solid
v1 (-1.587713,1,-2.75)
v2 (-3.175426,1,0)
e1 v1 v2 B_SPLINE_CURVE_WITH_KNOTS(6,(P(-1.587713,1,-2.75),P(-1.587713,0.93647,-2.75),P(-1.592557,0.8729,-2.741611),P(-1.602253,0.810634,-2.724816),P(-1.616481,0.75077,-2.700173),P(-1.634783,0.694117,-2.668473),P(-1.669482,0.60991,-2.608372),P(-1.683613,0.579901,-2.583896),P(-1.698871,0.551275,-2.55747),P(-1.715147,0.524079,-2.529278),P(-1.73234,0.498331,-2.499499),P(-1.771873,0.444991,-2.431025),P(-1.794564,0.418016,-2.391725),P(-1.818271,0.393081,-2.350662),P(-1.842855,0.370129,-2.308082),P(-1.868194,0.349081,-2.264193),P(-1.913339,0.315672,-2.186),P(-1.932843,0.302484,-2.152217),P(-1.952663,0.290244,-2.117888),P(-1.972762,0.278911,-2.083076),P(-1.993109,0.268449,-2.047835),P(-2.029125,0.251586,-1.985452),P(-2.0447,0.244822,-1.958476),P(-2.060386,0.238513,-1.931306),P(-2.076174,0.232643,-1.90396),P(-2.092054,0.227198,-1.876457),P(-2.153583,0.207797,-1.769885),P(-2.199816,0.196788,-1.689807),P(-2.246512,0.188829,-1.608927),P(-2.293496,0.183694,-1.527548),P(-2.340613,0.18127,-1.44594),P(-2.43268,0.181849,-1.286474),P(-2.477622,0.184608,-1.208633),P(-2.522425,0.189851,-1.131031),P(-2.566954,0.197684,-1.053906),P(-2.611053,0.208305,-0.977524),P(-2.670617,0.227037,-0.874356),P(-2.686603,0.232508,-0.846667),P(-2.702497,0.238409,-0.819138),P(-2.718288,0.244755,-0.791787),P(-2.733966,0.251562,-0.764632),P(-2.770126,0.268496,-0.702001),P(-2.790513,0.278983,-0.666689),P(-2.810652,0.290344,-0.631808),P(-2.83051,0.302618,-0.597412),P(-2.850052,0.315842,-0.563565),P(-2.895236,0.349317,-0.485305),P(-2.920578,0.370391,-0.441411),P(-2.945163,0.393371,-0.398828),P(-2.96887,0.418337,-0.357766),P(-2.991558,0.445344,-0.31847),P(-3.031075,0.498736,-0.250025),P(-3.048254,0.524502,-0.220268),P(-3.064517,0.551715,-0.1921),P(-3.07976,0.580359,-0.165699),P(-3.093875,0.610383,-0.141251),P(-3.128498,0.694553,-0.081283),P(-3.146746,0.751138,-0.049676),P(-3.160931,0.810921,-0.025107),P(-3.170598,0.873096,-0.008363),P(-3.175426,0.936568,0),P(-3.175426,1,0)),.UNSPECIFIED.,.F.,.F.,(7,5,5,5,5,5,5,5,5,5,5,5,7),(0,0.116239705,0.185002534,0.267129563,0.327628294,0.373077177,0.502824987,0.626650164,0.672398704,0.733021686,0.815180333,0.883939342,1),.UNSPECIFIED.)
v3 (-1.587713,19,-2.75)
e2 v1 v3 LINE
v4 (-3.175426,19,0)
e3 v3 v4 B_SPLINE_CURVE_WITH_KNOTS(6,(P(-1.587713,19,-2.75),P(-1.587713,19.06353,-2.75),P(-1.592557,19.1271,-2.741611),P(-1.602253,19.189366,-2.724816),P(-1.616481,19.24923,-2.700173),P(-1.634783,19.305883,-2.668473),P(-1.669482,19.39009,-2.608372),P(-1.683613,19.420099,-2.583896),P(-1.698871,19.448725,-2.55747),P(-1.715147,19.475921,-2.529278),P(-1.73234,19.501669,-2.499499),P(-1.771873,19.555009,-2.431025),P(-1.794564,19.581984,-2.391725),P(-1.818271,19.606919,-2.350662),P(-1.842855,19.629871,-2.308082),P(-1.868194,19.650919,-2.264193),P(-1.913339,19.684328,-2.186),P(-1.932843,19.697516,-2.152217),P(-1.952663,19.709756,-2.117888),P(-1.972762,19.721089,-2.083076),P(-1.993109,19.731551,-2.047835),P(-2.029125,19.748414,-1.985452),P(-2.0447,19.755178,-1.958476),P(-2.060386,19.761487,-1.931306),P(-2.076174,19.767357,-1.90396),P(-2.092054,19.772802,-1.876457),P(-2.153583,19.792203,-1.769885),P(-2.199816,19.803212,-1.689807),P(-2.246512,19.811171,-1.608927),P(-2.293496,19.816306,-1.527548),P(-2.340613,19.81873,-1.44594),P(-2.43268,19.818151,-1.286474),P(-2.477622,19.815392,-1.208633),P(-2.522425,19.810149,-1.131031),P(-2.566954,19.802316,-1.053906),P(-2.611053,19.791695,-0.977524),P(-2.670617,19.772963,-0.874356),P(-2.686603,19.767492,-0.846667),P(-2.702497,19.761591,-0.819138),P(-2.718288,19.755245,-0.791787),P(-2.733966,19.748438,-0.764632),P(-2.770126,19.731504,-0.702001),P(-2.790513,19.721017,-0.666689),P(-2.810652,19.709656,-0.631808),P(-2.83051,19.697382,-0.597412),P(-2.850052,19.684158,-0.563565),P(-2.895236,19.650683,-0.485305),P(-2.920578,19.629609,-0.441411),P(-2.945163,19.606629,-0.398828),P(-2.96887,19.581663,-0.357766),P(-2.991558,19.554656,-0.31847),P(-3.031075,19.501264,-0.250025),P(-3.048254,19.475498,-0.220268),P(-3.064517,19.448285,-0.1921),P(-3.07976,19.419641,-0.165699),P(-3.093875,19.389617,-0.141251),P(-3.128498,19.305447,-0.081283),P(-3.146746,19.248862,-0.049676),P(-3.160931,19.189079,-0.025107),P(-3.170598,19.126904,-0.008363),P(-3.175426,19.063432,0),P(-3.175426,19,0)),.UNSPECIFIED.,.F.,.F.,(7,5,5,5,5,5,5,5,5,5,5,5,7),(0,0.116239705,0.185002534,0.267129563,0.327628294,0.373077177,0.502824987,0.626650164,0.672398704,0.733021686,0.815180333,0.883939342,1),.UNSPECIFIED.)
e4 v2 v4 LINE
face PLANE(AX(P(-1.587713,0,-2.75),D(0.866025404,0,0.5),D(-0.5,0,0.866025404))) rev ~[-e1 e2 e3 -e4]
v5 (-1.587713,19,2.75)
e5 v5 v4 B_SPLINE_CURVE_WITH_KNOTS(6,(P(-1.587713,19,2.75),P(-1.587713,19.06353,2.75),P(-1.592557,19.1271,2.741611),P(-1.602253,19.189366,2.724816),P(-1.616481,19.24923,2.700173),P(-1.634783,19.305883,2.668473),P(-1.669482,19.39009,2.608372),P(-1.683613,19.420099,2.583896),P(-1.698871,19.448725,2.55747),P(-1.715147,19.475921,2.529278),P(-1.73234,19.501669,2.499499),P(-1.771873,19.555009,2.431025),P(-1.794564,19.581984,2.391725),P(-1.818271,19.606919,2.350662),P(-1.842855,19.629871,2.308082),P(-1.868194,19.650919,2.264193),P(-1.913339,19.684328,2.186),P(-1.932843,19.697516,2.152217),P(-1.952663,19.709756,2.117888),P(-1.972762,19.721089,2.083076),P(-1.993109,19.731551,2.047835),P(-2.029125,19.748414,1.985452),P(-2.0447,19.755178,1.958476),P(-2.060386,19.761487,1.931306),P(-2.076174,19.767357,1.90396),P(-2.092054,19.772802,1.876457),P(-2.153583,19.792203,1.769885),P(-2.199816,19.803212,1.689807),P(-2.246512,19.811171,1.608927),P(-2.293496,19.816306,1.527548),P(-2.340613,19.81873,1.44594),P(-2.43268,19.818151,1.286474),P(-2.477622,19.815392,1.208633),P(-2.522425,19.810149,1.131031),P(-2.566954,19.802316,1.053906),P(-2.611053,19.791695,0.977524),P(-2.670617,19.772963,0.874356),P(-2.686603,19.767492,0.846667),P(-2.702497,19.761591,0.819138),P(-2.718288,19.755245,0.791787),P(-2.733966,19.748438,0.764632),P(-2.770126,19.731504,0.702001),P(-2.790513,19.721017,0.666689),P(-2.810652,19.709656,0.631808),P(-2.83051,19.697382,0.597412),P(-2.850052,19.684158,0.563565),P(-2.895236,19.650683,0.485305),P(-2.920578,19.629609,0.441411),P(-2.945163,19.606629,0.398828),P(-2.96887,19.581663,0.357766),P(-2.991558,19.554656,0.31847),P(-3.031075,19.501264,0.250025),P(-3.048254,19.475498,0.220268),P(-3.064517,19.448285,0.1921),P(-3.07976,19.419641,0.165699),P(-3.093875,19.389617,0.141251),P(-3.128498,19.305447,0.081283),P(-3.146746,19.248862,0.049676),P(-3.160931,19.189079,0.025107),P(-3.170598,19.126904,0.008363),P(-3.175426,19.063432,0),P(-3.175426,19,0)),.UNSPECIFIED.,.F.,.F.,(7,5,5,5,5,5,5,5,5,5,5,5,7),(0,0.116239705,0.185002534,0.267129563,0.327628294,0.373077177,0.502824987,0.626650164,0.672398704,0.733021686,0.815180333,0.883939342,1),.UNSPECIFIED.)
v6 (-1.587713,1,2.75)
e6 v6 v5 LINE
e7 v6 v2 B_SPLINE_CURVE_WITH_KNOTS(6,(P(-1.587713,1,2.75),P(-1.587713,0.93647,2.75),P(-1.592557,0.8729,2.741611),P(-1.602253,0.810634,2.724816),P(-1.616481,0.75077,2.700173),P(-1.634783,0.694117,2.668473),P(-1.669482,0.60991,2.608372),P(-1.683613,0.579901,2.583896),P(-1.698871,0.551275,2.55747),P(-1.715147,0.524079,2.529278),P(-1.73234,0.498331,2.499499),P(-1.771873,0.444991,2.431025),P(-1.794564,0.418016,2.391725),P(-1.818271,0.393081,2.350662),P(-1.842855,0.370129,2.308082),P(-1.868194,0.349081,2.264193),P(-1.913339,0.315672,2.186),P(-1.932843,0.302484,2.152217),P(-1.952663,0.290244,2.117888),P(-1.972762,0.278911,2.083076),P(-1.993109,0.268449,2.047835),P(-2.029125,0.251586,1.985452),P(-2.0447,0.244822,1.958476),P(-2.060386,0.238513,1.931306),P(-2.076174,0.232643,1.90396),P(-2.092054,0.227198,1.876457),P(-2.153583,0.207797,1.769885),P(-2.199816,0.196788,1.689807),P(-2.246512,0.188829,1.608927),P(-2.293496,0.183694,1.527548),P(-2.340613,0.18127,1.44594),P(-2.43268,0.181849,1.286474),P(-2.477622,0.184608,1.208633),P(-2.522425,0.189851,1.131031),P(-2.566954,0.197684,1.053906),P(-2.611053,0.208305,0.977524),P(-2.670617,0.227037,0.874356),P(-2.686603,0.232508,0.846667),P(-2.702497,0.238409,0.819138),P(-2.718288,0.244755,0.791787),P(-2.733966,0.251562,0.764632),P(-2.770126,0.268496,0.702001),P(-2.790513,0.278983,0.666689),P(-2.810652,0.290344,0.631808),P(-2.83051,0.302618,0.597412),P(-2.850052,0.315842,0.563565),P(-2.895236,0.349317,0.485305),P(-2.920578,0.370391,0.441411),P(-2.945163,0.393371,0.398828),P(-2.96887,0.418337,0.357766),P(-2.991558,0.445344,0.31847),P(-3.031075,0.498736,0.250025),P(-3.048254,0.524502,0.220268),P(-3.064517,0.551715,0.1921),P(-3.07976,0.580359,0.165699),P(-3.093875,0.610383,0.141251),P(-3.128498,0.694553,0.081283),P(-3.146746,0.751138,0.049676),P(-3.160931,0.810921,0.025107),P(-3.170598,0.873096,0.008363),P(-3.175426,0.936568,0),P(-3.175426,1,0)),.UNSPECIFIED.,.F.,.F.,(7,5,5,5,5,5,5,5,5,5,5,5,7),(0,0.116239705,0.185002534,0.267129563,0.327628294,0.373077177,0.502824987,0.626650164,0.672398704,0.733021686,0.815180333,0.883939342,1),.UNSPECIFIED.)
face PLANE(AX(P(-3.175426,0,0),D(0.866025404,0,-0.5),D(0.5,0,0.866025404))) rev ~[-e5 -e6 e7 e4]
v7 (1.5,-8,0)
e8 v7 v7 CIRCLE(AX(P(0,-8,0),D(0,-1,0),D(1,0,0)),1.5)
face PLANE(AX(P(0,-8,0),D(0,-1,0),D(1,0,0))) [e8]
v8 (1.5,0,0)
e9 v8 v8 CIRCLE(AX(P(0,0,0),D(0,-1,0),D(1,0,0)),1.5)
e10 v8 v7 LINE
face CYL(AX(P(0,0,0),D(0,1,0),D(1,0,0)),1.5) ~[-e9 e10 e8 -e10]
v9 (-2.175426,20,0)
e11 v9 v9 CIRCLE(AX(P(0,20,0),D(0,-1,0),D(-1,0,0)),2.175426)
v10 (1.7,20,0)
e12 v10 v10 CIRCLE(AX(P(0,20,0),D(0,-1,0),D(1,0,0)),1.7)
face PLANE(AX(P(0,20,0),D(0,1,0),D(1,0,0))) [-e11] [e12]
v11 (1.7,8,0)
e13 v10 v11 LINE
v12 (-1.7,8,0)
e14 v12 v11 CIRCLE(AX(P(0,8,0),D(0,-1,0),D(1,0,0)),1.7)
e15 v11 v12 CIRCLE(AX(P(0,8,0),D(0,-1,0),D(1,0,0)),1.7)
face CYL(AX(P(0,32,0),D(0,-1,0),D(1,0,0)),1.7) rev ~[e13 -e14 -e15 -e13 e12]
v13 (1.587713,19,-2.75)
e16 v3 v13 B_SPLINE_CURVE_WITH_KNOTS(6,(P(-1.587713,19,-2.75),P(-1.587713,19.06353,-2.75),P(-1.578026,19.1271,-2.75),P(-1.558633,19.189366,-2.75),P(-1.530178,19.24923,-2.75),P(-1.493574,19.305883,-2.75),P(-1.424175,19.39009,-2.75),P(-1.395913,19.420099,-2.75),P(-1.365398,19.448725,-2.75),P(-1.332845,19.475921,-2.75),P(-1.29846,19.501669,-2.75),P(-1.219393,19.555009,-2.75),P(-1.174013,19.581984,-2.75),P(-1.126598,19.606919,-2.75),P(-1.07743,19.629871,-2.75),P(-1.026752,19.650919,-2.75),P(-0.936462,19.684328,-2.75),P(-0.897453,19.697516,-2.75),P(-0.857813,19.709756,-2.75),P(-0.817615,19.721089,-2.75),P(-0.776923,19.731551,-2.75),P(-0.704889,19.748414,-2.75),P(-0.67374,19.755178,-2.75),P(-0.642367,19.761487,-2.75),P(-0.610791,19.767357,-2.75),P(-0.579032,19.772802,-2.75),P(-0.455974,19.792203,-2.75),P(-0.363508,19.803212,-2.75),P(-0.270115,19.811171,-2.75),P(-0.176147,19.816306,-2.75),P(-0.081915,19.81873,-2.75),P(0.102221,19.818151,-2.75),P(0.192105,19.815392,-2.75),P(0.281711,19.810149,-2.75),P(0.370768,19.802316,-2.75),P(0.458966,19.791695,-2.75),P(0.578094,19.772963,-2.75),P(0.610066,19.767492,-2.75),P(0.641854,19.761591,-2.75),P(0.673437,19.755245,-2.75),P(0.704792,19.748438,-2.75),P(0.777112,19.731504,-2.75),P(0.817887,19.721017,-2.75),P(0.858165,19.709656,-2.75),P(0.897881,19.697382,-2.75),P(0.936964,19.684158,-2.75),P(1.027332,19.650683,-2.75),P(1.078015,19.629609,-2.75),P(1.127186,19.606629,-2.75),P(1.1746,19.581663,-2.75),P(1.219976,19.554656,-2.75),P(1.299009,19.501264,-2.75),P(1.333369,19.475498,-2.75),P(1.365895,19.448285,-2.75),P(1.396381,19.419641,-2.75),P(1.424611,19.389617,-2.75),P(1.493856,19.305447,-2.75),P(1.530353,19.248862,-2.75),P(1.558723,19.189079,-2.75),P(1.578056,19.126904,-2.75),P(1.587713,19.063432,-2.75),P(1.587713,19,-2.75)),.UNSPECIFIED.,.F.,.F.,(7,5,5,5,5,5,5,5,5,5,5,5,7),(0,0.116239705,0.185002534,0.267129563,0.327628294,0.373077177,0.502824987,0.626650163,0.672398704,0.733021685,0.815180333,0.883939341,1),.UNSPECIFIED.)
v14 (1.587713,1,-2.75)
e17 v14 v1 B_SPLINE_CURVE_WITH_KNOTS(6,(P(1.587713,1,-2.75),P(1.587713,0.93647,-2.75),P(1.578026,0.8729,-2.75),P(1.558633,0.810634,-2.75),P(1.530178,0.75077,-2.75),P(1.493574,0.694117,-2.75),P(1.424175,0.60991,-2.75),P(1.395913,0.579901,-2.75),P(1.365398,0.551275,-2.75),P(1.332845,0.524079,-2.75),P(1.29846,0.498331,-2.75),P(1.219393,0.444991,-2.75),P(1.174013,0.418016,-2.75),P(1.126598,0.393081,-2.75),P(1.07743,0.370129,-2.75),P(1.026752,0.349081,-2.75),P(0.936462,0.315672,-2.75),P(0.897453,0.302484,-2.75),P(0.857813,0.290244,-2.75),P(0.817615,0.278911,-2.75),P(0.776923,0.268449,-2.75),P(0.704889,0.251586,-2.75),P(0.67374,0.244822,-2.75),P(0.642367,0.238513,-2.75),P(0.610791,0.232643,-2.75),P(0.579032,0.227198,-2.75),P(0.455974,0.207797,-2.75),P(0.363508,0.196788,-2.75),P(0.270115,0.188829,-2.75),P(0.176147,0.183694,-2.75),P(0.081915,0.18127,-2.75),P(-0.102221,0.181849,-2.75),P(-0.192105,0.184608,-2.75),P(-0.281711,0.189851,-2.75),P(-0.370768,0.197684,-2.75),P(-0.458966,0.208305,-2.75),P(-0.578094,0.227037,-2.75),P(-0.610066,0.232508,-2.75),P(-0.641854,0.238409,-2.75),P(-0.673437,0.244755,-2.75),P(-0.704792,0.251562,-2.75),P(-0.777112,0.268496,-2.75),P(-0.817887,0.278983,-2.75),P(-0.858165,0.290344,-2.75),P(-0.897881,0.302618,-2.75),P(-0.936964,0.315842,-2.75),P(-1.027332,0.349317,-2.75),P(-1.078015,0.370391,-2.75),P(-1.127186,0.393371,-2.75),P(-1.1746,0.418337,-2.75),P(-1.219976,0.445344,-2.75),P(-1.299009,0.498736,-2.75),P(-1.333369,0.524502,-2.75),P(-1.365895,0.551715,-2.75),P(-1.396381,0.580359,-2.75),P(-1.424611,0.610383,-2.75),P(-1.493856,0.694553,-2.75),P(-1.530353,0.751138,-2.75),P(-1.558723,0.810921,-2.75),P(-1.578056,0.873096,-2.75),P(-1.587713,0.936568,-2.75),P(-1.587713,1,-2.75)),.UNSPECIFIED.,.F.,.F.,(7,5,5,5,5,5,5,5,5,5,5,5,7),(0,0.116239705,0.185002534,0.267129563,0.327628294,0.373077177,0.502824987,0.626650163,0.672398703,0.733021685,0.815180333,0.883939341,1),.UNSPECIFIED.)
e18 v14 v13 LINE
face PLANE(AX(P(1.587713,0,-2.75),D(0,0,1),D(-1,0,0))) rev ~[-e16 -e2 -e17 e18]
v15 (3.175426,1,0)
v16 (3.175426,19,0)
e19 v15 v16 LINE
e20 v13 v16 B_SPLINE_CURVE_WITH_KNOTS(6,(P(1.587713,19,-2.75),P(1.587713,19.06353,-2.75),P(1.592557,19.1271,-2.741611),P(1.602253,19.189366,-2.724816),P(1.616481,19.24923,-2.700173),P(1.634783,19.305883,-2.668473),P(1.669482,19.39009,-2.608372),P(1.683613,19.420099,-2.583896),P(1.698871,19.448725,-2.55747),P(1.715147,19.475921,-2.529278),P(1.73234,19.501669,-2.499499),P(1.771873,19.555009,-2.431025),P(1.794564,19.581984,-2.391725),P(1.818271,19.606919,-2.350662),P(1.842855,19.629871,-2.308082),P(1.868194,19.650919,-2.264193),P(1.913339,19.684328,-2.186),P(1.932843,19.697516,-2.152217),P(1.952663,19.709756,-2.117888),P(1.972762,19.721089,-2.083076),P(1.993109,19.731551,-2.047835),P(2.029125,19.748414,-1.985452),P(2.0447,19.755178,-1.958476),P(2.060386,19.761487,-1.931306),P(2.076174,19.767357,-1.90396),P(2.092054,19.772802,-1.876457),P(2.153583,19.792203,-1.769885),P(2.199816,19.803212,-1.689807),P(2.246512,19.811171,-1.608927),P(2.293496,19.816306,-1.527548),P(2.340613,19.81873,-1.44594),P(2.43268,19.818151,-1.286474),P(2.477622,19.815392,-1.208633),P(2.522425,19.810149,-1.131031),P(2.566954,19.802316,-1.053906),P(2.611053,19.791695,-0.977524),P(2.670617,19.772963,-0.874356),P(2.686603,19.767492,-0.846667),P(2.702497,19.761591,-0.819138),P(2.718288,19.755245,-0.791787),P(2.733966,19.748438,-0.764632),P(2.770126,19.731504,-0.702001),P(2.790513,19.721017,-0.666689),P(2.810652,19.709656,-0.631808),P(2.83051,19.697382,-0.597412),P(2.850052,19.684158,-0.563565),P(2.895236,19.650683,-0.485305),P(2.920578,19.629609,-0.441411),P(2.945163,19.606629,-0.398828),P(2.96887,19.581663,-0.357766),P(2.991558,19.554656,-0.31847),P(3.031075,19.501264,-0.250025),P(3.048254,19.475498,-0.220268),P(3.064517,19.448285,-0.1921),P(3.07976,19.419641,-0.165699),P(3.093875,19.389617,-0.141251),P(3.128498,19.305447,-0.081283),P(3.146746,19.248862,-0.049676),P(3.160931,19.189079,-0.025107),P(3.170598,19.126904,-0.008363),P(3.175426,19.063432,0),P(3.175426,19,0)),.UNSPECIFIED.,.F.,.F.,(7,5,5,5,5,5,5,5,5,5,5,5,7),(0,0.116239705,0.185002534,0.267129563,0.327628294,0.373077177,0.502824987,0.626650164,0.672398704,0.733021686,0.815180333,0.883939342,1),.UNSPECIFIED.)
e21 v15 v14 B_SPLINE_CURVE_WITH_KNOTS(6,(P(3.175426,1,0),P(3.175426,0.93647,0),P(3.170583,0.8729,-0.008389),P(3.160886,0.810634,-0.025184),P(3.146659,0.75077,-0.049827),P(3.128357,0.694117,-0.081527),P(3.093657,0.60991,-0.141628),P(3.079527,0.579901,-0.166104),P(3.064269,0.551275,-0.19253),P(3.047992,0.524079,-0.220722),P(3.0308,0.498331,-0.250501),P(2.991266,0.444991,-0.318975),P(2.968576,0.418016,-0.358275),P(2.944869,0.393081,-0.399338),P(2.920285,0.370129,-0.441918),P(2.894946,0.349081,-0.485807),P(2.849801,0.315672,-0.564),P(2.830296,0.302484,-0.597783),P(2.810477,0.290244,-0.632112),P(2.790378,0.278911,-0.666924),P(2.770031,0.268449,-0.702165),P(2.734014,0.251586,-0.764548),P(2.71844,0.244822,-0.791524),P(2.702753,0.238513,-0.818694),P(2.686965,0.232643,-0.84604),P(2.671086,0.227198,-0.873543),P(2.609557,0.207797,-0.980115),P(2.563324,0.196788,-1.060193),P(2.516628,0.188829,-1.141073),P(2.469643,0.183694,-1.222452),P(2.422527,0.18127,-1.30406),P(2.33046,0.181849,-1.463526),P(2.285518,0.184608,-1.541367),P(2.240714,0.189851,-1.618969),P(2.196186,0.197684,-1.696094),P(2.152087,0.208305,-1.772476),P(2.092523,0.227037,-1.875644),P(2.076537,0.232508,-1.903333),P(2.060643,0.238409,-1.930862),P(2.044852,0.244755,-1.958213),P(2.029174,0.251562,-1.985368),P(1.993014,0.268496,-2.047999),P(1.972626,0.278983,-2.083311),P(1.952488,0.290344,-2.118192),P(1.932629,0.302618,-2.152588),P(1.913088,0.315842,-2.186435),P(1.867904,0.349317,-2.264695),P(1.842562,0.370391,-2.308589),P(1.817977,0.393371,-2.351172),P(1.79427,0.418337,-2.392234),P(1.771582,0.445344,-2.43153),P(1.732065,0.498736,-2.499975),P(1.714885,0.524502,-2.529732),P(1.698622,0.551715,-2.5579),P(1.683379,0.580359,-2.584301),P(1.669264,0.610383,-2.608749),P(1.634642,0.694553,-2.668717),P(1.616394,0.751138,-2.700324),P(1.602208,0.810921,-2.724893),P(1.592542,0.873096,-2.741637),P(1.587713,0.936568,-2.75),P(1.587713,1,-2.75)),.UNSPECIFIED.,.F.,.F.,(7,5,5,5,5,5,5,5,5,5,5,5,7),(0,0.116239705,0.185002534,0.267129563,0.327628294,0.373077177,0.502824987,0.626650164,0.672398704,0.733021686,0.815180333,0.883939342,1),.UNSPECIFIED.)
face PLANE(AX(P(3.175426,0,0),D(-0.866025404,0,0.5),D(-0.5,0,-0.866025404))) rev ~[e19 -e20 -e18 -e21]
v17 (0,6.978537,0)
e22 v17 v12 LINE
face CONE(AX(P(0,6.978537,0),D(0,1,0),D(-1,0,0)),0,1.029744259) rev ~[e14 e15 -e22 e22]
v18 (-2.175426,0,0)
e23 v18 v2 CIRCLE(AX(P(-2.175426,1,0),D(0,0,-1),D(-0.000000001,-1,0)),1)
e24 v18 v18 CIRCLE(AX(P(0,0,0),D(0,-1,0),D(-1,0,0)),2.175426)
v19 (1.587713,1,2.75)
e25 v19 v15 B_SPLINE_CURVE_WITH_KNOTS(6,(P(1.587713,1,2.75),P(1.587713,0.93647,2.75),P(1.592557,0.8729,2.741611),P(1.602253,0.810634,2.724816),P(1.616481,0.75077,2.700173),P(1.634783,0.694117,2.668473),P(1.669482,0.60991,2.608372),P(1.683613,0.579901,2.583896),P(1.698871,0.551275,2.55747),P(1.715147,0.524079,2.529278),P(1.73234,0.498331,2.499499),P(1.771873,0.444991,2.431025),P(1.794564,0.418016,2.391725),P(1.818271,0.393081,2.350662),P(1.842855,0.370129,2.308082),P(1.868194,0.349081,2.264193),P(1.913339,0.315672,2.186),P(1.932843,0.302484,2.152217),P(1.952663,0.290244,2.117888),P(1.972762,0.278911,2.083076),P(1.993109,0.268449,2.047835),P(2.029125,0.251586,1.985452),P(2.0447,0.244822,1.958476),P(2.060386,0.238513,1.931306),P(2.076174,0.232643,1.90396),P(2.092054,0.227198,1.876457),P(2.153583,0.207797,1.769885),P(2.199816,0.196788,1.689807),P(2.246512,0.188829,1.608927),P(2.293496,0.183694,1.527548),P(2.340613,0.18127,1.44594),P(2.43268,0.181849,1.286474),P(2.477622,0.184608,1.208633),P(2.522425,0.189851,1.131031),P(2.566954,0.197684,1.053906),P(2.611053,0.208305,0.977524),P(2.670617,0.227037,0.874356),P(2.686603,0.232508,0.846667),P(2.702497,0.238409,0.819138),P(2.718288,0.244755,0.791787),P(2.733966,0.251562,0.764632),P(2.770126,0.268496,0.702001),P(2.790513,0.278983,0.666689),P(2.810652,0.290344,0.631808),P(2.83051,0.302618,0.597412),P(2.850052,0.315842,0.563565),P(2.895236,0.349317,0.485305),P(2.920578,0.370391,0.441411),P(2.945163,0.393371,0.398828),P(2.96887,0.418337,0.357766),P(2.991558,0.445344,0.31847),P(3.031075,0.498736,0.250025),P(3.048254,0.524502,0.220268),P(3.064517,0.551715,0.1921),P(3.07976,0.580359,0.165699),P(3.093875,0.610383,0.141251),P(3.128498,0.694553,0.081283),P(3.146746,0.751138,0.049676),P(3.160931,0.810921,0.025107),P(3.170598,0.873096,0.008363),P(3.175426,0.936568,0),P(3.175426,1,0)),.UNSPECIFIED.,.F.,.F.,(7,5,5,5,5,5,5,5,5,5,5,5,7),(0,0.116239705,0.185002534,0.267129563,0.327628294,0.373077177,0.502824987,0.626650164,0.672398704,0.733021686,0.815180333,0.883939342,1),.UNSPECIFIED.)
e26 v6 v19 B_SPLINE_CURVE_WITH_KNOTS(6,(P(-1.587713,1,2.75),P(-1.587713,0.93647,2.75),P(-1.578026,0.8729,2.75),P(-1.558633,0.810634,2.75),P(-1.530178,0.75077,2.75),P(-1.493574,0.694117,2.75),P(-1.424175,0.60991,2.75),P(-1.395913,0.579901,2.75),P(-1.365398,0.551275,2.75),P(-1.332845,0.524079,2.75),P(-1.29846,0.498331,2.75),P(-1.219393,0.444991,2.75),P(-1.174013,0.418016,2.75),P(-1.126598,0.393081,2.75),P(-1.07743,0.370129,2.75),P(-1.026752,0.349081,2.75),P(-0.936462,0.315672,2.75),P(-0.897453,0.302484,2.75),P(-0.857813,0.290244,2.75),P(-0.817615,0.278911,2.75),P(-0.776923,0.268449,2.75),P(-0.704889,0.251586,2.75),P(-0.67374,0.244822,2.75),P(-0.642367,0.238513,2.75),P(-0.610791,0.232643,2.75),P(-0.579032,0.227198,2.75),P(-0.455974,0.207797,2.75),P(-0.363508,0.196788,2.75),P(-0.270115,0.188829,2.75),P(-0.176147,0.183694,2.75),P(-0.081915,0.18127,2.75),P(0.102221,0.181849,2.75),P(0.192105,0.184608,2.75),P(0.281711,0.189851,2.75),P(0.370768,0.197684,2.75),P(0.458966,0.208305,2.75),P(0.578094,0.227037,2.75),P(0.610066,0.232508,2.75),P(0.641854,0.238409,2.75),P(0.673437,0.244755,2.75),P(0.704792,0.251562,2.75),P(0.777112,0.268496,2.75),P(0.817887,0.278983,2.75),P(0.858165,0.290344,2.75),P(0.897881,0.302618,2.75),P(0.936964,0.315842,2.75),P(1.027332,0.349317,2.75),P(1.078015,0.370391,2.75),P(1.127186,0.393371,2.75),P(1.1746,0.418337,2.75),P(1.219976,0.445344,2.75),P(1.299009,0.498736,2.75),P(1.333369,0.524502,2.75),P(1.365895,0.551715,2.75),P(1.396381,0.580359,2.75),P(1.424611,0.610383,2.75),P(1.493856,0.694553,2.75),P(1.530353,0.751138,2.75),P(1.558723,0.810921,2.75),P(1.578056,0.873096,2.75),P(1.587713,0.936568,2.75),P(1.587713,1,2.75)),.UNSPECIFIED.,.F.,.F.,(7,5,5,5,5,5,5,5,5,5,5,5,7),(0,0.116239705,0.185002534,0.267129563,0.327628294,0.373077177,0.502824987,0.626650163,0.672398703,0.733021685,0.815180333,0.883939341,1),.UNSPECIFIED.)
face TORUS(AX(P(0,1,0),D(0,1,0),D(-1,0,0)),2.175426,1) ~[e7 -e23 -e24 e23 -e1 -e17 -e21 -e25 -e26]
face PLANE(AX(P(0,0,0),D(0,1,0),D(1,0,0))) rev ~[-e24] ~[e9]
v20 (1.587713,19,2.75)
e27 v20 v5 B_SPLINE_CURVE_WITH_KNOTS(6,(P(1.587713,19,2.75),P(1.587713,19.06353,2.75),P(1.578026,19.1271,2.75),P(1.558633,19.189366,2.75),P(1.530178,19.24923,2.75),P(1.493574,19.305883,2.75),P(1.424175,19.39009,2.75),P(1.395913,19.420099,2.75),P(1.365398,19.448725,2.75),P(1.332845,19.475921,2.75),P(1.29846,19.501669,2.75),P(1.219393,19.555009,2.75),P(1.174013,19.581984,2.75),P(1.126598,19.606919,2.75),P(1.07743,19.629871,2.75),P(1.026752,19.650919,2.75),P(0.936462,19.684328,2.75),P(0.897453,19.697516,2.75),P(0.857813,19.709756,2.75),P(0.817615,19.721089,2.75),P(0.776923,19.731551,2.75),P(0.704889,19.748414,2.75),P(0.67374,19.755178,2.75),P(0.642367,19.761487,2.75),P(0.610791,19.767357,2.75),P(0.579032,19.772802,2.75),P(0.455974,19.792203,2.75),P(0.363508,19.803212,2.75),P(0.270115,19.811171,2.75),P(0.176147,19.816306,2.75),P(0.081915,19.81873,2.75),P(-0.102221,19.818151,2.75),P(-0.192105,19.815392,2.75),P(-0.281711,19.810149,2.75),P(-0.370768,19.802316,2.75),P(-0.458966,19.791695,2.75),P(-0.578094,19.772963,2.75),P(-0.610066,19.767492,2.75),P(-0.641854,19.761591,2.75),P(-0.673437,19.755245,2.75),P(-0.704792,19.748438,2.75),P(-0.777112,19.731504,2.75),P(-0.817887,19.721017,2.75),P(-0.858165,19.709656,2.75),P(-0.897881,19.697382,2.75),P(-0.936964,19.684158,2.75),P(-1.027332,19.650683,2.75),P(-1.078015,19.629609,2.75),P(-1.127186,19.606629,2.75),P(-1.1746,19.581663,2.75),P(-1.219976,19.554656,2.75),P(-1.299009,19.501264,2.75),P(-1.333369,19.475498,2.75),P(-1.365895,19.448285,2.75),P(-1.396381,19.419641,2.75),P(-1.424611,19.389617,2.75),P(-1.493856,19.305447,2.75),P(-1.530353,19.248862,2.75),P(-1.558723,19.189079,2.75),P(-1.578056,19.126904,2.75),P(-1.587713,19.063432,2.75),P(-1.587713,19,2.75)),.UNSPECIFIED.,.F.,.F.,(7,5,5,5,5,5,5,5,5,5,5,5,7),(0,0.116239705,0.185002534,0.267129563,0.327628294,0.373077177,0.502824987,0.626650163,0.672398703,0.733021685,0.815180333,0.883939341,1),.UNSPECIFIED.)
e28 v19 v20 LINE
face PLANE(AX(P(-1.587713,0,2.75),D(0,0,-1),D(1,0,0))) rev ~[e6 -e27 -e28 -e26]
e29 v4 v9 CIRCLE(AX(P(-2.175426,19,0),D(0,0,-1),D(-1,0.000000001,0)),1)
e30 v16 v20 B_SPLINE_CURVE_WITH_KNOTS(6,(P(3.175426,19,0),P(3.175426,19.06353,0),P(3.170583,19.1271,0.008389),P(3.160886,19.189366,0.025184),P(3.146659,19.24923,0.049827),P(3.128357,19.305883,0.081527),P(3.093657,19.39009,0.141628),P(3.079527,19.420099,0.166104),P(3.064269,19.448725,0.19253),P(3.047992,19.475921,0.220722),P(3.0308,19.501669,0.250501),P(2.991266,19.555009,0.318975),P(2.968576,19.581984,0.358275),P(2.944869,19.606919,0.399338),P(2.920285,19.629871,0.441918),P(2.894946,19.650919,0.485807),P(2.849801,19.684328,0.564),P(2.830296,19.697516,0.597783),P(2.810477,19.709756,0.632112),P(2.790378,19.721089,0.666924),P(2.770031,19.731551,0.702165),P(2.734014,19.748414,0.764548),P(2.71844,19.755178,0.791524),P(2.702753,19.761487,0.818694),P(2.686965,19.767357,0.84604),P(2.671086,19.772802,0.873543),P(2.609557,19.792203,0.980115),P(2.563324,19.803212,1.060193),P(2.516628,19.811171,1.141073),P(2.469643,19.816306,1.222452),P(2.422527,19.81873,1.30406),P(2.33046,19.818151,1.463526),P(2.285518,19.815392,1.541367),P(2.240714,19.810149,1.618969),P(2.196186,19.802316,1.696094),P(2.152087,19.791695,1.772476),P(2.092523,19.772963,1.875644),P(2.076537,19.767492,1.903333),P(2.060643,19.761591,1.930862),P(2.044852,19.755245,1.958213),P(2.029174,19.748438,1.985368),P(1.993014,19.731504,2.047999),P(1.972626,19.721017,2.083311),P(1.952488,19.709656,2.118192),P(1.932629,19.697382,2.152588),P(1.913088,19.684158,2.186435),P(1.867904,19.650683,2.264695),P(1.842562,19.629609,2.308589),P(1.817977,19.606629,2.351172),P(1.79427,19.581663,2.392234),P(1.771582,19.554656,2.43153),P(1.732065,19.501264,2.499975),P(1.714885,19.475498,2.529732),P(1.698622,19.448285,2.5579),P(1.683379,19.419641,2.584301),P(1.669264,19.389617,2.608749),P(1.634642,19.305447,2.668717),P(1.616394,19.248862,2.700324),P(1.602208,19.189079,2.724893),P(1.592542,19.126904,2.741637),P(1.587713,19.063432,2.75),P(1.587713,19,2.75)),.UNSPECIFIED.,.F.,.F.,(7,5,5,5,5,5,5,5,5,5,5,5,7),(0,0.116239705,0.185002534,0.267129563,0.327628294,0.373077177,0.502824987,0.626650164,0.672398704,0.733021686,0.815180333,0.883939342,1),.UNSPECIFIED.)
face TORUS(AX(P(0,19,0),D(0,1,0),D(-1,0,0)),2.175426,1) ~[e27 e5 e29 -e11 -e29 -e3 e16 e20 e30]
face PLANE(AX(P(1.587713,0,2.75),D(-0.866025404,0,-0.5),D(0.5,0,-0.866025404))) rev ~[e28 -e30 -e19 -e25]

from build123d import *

# Parameters (mm, degrees)
BOSS_EXTRUDE1_DEPTH      = 20
M3_CLEARANCE_HOLE1_D     = 3.4
M3_CLEARANCE_HOLE1_DEPTH = 12
M3_CLEARANCE_HOLE1_TIP   = 1.021463052
SKETCH5_R                = 1.5
BOSS_EXTRUDE2_DEPTH      = 8


with BuildPart() as part:
    # Sketch1 → Boss-Extrude1 (new body)
    with BuildSketch(Plane(origin=(0, 0, 0), x_dir=(1, 0, 0), z_dir=(0, 1, 0))):
        Polygon((3.175426481, 0), (1.58771324, 2.75), (-1.58771324, 2.75), (-3.175426481, 0), (-1.58771324, -2.75), (1.58771324, -2.75), align=None)
    extrude(amount=BOSS_EXTRUDE1_DEPTH)

    # M3 Clearance Hole1
    with Locations(Plane(origin=(0, 20, 0), x_dir=(-1, 0, 0), z_dir=(0, 1, 0))):
        with Locations((0, 0)):
            Hole(M3_CLEARANCE_HOLE1_D / 2, depth=M3_CLEARANCE_HOLE1_DEPTH)
            with Locations((0, 0, -(M3_CLEARANCE_HOLE1_DEPTH + M3_CLEARANCE_HOLE1_TIP / 2))):  # 118° drill point
                Cone(0, M3_CLEARANCE_HOLE1_D / 2, M3_CLEARANCE_HOLE1_TIP, mode=Mode.SUBTRACT)

    # Sketch4 → Cut-Revolve1 (revolve, cut)
    with BuildSketch(Plane.XY):
        with BuildLine():
            Line((-2.175426481, 20), (-3.175426481, 20))
            Line((-3.175426481, 20), (-3.175426481, 19))
            ThreePointArc((-3.175426481, 19), (-2.882533262, 19.707106781), (-2.175426481, 20))
        make_face()
        with BuildLine():
            Line((-3.175426481, 1), (-3.175426481, 0))
            Line((-3.175426481, 0), (-2.175426481, 0))
            ThreePointArc((-2.175426481, 0), (-2.882533262, 0.292893219), (-3.175426481, 1))
        make_face()
    revolve(axis=Axis((0, 20, 0), (0, -1, 0)), mode=Mode.SUBTRACT)

    # Sketch5 → Boss-Extrude2 (add)
    with BuildSketch(Plane.XZ):
        Circle(SKETCH5_R)
    extrude(amount=BOSS_EXTRUDE2_DEPTH)


solid = part.part
